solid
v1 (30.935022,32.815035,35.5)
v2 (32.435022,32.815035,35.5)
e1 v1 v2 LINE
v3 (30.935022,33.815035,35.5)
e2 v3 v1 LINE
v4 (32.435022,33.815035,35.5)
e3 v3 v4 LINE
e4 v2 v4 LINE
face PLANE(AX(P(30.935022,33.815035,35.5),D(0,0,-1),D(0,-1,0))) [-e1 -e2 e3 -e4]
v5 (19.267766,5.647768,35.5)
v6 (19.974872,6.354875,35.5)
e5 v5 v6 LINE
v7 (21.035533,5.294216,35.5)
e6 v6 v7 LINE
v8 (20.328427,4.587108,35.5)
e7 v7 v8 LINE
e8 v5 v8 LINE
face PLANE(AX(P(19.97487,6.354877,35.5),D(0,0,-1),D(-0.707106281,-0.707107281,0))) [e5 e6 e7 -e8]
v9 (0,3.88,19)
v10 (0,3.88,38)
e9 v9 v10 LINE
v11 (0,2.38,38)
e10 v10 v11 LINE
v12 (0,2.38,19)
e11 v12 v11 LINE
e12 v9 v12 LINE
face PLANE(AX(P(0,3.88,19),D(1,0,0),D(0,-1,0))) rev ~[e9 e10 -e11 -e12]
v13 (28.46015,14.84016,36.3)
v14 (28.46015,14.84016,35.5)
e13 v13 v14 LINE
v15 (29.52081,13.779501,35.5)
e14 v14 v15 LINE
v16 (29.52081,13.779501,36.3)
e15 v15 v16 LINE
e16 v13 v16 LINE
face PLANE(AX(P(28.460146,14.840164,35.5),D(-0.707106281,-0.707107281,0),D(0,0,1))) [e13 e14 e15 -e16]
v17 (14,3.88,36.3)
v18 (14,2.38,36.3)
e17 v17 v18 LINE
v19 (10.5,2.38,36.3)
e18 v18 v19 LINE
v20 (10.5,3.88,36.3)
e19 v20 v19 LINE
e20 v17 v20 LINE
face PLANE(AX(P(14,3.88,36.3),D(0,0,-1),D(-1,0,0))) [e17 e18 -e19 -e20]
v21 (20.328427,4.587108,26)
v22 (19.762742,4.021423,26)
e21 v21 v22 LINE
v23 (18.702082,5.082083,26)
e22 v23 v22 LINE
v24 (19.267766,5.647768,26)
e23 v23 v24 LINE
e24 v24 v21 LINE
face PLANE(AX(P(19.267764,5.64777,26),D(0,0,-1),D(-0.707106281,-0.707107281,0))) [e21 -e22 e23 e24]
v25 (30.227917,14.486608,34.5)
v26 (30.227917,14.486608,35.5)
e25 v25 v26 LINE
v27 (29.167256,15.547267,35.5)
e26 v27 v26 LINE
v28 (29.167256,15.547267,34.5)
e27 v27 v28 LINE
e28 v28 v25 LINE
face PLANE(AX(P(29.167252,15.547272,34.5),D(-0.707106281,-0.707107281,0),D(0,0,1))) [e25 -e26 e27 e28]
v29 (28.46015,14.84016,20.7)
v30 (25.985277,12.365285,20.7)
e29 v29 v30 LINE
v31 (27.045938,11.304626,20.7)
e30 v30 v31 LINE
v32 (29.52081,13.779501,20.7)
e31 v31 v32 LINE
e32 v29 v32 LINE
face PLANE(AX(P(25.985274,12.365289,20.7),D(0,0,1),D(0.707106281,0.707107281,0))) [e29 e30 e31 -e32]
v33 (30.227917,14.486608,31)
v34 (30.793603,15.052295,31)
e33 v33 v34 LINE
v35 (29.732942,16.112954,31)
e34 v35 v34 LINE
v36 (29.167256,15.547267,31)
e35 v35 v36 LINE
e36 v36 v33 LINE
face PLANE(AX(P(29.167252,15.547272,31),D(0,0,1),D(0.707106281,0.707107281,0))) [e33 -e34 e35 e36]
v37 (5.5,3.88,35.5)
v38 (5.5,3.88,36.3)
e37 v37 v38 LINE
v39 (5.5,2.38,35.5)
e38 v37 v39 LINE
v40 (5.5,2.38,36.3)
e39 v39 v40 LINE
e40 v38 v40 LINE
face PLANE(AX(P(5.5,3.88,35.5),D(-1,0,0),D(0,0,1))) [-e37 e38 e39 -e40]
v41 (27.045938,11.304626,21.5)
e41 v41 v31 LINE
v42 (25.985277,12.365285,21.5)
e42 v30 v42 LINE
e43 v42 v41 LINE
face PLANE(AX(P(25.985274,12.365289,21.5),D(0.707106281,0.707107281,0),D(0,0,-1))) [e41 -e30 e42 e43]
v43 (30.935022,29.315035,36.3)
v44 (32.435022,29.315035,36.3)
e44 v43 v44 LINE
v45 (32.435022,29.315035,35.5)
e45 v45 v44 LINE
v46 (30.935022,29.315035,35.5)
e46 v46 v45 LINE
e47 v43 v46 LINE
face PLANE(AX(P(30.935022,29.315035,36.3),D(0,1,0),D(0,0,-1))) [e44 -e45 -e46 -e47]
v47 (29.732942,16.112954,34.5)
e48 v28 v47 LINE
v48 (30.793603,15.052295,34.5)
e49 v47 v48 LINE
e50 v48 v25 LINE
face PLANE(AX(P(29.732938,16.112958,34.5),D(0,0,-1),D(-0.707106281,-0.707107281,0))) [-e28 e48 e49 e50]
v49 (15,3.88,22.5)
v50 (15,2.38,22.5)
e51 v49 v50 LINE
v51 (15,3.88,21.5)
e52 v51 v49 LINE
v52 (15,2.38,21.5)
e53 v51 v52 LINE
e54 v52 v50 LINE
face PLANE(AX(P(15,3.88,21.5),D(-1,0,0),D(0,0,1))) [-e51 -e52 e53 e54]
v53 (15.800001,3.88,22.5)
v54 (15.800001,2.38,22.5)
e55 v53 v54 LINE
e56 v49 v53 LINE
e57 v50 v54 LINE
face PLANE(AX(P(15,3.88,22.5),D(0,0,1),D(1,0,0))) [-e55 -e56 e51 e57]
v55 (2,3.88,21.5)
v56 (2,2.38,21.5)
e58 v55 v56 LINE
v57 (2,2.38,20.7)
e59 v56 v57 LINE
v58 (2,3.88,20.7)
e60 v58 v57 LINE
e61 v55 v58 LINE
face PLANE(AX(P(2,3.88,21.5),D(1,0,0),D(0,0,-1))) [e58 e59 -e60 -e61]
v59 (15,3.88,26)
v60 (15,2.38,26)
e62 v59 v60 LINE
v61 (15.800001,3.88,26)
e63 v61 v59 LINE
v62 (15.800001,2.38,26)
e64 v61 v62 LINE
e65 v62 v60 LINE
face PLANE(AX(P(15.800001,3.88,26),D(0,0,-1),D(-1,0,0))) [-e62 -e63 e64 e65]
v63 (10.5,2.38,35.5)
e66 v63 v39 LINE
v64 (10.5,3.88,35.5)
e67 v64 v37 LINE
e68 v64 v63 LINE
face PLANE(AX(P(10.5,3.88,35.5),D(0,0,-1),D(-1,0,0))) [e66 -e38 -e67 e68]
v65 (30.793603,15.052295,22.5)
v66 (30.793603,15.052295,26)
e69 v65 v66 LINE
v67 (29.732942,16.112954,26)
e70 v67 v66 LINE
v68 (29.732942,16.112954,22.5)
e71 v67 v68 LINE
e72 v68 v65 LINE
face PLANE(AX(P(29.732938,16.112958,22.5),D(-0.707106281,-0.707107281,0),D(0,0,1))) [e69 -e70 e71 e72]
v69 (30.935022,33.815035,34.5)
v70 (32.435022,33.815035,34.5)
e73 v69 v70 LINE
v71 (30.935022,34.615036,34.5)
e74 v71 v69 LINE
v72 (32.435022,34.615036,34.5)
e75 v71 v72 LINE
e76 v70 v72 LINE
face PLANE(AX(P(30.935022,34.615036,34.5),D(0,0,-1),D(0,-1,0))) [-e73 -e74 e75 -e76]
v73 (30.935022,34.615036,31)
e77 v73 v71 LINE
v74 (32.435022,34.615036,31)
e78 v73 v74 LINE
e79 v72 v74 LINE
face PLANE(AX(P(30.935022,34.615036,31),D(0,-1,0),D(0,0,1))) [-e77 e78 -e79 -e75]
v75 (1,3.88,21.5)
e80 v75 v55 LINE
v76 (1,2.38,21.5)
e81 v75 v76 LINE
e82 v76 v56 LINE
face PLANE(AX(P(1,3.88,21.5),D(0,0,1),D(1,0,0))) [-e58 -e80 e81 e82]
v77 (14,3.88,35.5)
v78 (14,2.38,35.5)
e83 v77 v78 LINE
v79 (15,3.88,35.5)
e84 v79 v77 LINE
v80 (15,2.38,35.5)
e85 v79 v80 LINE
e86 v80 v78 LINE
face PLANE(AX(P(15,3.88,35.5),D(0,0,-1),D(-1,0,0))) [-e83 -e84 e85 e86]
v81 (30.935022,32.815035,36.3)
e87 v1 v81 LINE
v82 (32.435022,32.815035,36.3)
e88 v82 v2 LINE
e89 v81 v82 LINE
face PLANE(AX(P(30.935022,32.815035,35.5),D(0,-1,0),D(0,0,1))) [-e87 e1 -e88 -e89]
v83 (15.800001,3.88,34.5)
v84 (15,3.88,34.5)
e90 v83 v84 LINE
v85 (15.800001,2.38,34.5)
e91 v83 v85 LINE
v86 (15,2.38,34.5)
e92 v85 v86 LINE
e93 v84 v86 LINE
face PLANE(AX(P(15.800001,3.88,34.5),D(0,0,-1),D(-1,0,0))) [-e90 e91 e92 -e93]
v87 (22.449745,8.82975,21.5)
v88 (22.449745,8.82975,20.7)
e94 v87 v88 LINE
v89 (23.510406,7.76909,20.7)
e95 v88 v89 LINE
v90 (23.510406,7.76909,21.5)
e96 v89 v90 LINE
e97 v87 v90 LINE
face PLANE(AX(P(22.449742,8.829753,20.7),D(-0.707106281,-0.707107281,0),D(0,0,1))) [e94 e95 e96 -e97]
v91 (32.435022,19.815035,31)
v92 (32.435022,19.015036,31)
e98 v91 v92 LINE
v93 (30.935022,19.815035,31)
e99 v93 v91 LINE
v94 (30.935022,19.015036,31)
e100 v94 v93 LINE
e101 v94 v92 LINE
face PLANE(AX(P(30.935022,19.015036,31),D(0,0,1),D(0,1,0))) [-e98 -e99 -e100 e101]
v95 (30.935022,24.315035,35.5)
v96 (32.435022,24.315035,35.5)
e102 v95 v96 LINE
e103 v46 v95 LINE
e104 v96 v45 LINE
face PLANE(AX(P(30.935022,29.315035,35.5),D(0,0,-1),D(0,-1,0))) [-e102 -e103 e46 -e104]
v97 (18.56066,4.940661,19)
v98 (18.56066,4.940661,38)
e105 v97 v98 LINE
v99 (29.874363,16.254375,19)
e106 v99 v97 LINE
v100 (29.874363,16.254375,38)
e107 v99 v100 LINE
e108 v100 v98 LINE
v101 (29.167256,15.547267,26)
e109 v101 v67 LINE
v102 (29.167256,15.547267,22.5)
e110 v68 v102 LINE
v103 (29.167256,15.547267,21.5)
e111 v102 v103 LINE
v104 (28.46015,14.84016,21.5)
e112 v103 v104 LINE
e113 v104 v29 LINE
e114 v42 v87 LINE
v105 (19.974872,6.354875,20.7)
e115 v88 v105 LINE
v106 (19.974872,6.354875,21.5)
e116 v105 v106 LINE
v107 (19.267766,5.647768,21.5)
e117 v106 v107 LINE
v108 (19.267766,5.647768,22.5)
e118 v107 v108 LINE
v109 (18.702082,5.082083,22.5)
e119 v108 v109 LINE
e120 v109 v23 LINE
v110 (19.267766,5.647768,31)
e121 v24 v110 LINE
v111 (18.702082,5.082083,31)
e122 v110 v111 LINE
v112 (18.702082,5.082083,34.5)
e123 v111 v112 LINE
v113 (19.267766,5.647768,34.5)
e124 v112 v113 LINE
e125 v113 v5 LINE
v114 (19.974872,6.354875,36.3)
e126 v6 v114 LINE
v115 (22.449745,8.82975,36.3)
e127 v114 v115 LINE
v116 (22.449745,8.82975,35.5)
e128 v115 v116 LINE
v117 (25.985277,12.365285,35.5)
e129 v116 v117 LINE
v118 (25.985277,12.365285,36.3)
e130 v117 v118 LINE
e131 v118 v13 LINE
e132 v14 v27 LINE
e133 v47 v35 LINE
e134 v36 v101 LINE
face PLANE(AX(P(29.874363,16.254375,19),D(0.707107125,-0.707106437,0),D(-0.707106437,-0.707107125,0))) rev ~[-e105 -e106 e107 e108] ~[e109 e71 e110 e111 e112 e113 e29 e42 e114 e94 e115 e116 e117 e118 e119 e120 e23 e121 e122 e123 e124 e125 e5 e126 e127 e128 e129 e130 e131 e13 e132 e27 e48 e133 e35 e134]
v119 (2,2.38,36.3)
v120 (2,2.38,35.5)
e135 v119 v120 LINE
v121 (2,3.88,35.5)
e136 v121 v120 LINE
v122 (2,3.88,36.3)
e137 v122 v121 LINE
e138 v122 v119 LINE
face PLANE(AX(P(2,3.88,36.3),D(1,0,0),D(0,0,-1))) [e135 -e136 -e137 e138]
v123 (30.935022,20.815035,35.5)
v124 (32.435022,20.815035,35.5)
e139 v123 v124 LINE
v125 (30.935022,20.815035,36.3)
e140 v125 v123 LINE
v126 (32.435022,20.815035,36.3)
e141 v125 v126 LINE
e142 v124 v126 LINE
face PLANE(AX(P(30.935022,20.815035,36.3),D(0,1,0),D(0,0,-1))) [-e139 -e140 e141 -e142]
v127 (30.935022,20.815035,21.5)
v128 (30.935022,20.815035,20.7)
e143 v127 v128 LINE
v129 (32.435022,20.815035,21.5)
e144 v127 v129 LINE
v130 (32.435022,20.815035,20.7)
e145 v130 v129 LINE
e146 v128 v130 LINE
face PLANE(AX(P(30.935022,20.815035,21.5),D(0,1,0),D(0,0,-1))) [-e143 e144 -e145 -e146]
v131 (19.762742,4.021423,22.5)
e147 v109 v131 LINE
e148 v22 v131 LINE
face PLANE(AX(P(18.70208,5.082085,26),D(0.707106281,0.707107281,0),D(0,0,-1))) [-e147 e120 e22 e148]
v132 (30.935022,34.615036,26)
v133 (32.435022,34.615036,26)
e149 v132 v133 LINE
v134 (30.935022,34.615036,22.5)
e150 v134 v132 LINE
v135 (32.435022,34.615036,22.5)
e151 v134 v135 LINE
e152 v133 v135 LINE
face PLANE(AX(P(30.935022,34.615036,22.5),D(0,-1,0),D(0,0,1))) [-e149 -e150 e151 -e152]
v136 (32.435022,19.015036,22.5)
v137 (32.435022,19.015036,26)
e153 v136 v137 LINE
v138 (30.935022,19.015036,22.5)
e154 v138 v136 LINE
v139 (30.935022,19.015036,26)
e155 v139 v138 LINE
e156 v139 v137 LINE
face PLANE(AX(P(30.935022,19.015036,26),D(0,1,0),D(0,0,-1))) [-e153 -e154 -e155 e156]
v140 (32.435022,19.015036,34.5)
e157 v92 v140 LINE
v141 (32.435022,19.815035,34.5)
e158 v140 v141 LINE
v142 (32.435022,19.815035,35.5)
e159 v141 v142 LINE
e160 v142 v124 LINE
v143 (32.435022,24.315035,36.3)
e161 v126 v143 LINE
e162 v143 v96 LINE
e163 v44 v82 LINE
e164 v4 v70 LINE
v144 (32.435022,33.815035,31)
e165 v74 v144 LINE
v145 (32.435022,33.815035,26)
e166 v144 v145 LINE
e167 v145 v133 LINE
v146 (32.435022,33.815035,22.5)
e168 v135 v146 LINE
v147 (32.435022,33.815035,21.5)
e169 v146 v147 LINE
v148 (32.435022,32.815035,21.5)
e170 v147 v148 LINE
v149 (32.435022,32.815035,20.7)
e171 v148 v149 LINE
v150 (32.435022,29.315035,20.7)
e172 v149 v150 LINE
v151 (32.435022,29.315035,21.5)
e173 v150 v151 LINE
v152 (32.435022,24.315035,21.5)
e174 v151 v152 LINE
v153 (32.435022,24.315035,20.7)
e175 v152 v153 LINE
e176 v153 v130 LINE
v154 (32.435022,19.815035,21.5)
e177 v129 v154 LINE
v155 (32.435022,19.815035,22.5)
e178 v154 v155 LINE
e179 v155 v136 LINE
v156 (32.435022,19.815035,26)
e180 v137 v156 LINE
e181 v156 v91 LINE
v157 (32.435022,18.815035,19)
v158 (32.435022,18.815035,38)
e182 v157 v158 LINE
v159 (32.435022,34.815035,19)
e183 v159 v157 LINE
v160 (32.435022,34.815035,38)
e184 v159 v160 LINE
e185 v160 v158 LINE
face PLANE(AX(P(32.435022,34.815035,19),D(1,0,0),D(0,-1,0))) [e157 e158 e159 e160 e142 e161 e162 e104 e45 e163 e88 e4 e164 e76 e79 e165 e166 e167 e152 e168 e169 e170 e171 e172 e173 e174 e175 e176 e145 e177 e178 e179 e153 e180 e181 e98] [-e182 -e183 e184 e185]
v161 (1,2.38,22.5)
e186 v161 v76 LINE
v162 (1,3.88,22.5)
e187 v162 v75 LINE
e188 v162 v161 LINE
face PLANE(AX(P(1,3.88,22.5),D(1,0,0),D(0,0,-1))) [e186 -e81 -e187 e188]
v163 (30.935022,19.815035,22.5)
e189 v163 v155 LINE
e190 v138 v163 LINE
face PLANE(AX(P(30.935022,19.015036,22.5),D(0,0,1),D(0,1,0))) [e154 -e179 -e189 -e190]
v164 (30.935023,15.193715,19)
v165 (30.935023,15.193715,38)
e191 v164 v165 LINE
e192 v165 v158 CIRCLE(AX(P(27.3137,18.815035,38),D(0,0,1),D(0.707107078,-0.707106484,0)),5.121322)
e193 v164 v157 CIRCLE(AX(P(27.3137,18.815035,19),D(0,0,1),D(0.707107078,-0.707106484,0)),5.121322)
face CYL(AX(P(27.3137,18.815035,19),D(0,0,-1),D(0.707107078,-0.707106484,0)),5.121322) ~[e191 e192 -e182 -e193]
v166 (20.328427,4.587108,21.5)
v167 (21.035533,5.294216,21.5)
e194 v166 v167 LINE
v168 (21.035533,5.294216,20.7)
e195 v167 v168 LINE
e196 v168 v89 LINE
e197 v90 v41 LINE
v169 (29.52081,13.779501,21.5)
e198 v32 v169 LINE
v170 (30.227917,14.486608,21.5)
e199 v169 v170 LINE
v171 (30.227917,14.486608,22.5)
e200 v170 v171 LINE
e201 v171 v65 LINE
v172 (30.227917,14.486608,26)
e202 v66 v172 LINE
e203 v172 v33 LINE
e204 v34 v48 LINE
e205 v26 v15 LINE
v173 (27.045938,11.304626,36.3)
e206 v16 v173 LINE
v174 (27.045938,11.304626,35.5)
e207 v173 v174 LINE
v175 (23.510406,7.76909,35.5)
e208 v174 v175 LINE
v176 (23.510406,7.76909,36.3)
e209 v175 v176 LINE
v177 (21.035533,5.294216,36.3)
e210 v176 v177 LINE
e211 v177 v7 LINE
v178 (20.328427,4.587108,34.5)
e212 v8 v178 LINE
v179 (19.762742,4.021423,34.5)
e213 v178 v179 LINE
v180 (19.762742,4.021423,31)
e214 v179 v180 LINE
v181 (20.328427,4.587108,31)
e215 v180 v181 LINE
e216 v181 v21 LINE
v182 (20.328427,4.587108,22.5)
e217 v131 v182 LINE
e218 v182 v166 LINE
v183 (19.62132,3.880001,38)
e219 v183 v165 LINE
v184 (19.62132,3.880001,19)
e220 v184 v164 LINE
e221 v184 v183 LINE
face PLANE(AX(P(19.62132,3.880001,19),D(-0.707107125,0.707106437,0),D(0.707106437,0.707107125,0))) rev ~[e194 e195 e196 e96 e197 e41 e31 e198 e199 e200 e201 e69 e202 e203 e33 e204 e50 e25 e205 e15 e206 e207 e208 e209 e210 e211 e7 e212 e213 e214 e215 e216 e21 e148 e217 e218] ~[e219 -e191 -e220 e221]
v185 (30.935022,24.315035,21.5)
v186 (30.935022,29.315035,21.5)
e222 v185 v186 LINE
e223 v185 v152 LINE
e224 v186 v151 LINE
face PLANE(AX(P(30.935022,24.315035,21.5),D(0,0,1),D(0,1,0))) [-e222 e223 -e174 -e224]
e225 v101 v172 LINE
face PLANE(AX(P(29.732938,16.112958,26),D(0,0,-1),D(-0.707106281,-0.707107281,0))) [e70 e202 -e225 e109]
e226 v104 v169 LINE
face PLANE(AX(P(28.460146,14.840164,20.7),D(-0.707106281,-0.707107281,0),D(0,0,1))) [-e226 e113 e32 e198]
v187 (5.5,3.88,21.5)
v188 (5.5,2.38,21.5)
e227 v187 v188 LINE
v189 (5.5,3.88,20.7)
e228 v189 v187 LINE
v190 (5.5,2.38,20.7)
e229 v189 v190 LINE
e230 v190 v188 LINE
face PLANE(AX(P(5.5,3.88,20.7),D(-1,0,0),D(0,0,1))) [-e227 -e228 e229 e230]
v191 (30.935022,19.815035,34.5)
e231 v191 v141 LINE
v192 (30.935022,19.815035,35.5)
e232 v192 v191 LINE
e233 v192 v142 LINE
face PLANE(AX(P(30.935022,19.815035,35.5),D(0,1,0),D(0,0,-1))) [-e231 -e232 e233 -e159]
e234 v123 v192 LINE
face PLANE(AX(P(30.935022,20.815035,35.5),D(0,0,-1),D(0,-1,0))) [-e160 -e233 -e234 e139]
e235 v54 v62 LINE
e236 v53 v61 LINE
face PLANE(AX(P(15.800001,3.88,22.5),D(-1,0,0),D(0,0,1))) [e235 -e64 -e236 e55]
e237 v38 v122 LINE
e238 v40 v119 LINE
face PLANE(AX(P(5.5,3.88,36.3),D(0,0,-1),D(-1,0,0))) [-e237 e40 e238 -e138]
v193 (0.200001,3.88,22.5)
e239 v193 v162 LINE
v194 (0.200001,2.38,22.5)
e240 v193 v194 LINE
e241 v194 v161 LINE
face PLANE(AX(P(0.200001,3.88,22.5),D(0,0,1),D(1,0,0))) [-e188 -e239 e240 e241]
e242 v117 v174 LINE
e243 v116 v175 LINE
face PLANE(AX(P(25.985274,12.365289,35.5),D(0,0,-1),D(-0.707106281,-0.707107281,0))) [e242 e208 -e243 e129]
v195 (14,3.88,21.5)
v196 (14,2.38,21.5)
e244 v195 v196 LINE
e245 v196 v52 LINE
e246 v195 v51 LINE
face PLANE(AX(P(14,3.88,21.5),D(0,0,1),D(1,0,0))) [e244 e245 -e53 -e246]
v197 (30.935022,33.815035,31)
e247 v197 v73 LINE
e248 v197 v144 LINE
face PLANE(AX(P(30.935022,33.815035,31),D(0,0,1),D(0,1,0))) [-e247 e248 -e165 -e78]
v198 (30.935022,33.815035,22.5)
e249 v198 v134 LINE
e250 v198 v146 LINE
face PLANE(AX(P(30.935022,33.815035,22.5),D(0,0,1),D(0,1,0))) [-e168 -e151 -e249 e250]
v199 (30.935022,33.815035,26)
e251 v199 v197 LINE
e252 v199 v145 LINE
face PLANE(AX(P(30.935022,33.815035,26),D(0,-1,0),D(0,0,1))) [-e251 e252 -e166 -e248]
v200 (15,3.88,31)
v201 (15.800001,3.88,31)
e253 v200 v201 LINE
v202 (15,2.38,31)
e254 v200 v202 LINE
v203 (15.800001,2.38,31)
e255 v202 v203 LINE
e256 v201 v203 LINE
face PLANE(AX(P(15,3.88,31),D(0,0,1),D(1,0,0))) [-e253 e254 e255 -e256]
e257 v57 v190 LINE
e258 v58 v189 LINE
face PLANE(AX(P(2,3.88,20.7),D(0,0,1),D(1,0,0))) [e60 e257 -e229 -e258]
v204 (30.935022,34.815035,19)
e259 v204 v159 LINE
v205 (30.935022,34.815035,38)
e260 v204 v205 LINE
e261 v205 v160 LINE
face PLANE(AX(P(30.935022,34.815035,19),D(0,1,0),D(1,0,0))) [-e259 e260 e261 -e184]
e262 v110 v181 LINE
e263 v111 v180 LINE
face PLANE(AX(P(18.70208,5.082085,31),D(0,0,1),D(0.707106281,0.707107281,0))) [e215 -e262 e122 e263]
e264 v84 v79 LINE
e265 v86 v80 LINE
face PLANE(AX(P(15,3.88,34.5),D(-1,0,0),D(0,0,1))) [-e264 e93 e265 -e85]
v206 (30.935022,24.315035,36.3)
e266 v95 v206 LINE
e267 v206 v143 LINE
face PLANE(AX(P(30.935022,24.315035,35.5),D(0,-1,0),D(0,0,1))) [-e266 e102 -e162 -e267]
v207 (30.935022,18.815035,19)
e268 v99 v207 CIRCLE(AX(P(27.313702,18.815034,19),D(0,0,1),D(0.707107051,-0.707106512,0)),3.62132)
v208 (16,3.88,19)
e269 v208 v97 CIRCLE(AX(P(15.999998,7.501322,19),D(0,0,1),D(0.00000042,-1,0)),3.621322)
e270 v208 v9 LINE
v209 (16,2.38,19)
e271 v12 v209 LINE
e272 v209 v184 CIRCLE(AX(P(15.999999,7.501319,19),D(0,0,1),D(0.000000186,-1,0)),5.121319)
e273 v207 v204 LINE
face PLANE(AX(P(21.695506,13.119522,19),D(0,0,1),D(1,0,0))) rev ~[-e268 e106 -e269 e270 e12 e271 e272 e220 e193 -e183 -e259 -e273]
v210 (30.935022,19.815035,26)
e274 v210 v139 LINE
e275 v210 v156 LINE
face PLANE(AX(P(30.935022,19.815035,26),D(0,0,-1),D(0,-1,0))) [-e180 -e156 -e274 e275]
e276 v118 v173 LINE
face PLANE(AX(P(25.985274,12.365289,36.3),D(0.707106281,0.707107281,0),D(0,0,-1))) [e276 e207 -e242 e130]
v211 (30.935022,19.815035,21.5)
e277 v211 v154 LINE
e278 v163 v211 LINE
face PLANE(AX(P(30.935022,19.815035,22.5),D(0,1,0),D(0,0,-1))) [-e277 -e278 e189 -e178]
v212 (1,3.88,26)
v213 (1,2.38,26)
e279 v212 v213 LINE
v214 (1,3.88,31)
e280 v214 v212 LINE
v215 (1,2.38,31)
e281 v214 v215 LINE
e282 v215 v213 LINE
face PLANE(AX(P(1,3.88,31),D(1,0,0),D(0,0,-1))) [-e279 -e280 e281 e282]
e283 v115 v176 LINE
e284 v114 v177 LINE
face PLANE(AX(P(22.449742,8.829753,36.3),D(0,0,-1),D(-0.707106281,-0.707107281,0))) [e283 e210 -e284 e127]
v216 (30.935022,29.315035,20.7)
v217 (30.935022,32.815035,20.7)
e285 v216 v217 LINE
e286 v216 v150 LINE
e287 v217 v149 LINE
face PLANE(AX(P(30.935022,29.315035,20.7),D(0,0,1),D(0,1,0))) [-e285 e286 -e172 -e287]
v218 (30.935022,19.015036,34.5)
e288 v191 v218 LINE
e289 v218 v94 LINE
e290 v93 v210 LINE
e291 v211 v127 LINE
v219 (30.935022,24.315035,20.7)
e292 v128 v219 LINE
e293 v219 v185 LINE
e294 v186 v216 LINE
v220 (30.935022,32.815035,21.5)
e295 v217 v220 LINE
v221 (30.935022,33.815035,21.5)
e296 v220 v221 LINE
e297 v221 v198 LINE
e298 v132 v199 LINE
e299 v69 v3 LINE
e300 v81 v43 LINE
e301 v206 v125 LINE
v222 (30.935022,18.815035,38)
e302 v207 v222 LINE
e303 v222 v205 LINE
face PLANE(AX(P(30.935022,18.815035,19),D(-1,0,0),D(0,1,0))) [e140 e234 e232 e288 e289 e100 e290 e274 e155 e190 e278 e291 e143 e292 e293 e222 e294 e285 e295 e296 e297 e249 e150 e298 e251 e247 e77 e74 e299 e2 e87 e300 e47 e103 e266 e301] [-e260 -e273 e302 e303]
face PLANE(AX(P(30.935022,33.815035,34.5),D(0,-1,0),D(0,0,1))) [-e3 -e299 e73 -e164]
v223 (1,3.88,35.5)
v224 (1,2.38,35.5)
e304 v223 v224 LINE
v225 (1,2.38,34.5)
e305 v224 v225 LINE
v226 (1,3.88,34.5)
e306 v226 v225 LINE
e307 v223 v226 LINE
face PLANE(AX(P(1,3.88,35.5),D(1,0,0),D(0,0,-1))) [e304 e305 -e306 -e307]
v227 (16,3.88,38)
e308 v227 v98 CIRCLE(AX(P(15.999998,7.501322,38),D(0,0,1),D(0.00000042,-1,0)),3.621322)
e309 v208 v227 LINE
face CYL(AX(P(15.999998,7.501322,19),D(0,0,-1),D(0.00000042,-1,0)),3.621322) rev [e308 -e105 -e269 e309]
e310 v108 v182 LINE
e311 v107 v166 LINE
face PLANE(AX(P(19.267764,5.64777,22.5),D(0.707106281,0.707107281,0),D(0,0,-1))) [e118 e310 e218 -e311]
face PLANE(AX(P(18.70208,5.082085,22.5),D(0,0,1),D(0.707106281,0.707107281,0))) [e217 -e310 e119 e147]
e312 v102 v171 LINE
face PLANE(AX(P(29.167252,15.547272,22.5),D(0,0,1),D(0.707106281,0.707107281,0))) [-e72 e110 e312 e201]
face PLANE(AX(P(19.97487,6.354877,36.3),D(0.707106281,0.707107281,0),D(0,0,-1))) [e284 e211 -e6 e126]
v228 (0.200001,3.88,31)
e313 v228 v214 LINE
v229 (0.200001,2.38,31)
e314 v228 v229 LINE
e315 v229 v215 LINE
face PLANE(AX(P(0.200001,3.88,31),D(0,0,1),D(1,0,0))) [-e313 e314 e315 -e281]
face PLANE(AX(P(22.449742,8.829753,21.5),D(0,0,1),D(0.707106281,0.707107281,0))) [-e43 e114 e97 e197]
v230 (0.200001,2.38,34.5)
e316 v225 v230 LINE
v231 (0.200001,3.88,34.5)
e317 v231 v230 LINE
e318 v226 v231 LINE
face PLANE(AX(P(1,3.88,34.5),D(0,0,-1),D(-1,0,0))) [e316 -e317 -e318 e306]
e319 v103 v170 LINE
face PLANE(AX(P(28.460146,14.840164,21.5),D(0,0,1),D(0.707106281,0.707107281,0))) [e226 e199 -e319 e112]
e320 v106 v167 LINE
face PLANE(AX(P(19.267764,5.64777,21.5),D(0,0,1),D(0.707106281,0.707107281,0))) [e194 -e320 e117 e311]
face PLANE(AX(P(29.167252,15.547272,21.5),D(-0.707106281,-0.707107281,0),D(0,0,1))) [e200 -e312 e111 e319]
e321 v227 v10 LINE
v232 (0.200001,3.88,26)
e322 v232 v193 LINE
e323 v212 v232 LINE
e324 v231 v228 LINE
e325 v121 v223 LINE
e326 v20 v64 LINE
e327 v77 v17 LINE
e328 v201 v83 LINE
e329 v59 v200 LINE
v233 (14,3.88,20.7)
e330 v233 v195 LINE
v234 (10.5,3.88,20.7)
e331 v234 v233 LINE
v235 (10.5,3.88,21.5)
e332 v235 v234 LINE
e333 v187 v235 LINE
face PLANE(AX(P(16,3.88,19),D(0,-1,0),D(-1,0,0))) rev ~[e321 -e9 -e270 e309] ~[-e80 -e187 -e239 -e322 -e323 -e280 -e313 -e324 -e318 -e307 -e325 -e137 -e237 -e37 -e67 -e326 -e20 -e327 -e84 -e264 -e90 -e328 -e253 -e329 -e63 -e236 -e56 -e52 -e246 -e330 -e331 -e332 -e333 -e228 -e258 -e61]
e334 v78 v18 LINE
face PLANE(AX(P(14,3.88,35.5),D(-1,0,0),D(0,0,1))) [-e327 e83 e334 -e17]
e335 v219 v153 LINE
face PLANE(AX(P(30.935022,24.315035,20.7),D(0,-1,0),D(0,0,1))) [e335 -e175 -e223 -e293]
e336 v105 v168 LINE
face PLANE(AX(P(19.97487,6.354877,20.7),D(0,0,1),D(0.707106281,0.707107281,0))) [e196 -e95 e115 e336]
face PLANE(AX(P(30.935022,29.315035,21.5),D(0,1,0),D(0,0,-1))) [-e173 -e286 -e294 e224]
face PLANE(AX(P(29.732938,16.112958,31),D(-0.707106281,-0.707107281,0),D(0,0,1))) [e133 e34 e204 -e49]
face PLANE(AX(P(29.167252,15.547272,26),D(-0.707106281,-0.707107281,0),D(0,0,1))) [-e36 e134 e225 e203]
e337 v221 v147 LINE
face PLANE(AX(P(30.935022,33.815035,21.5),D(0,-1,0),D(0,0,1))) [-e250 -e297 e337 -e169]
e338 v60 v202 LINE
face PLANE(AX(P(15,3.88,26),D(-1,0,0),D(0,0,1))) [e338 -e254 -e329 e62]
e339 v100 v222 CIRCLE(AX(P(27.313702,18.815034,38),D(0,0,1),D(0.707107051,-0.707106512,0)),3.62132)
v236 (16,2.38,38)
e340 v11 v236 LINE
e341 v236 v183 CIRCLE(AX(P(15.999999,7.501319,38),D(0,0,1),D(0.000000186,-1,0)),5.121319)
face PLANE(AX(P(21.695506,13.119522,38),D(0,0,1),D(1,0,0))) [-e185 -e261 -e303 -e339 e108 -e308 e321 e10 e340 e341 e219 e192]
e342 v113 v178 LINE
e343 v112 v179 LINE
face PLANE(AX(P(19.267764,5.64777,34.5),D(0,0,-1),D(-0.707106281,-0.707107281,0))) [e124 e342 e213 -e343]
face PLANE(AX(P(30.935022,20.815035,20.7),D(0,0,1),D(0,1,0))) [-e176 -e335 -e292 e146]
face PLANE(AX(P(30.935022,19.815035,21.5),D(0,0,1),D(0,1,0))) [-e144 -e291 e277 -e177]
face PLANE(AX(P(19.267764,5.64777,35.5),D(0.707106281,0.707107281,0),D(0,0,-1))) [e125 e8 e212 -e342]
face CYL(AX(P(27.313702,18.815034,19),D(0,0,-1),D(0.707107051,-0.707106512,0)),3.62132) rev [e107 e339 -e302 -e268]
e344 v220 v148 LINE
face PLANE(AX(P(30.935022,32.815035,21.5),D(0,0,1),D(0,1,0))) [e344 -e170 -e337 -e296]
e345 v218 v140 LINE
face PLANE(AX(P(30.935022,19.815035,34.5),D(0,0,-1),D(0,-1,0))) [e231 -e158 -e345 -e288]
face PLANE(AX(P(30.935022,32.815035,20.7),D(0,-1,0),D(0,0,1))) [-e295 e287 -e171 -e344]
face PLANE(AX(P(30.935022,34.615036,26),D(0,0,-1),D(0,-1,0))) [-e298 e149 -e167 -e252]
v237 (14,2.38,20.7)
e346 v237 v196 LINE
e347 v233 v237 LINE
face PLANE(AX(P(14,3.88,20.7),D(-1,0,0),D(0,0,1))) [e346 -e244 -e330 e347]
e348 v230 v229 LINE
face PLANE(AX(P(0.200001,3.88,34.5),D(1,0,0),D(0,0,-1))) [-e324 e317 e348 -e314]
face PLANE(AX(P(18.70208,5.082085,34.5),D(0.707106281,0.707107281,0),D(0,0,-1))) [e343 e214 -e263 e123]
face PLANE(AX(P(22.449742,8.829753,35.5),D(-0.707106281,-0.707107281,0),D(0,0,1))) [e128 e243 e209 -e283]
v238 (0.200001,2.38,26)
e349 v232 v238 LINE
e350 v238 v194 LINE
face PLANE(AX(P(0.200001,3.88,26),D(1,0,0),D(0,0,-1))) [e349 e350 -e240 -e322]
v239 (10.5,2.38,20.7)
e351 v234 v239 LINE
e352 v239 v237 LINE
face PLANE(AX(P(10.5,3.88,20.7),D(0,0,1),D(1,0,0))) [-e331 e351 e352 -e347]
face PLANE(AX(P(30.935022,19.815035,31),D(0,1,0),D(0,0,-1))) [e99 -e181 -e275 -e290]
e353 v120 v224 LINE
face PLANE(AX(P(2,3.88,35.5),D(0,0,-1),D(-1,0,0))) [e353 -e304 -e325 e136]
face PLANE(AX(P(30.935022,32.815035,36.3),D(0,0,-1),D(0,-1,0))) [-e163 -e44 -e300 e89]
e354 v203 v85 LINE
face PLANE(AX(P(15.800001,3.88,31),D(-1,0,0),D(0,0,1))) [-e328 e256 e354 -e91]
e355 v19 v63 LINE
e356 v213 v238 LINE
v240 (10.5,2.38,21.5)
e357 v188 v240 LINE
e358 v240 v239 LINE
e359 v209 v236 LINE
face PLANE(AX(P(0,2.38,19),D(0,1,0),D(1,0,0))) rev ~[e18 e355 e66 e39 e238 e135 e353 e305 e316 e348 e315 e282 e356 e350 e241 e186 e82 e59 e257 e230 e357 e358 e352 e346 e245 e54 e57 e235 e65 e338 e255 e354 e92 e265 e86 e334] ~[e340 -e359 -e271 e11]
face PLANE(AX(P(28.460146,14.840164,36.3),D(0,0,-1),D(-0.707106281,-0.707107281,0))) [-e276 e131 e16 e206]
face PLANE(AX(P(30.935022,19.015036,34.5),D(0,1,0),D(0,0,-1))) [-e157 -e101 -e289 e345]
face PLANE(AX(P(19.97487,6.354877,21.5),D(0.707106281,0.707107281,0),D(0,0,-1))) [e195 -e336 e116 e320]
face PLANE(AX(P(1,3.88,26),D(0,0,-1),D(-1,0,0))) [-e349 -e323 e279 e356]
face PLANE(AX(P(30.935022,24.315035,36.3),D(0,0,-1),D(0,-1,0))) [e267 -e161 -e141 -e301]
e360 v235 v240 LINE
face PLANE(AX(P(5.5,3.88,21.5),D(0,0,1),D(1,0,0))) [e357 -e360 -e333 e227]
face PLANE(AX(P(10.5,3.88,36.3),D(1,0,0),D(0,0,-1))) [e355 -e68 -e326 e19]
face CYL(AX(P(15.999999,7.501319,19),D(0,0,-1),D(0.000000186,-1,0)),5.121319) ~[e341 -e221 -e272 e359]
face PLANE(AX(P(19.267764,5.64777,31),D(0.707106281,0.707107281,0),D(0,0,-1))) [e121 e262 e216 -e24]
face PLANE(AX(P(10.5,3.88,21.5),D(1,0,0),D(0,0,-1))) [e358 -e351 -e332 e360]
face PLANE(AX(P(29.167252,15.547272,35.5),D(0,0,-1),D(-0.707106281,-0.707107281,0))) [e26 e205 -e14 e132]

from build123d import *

# Parameters (mm, degrees)
PAD_DEPTH       = 19
POCKET_DEPTH    = 11.62232
POCKET002_DEPTH = 1.501
POCKET003_DEPTH = 1.501


with BuildPart() as part:
    # Sketch → Pad (new body)
    with BuildSketch(Plane.XY):
        with BuildLine():
            Line((0, 0), (16, 0))
            ThreePointArc((16, 0), (17.959845, 0.389838), (19.62132, 1.500001))
            Line((19.62132, 1.500001), (30.935023, 12.813715))
            ThreePointArc((30.935023, 12.813715), (32.045185, 14.475191), (32.435022, 16.435035))
            Line((32.435022, 32.435035), (32.435022, 16.435035))
            Line((30.935022, 32.435035), (32.435022, 32.435035))
            Line((30.935022, 16.435035), (30.935022, 32.435035))
            ThreePointArc((29.874363, 13.874375), (30.659366, 15.049216), (30.935022, 16.435035))
            Line((29.874363, 13.874375), (18.56066, 2.560661))
            ThreePointArc((16, 1.5), (17.385819, 1.775657), (18.56066, 2.560661))
            Line((16, 1.5), (0, 1.5))
            Line((0, 1.5), (0, 0))
        make_face()
    extrude(amount=PAD_DEPTH)

    # Sketch004 → Pocket (cut, through all)
    with BuildSketch(Plane(origin=(8.000009, -8.000001, 0), x_dir=(-0.707106, -0.707107, 0), z_dir=(-0.707107, 0.707106, 0))):
        Polygon((-28.935023, 17.3), (-25.435023, 17.3), (-25.435023, 16.5), (-20.435023, 16.5), (-20.435023, 17.3), (-16.935023, 17.3), (-16.935023, 16.5), (-15.935023, 16.5), (-15.935023, 15.5), (-15.135024, 15.5), (-15.135024, 12), (-15.935023, 12), (-15.935023, 7), (-15.135024, 7), (-15.135024, 3.5), (-15.935023, 3.5), (-15.935023, 2.5), (-16.935023, 2.5), (-16.935023, 1.7), (-20.435023, 1.7), (-20.435023, 2.5), (-25.435023, 2.5), (-25.435023, 1.7), (-28.935023, 1.7), (-28.935023, 2.5), (-29.935023, 2.5), (-29.935023, 3.5), (-30.735024, 3.5), (-30.735024, 7), (-29.935023, 7), (-29.935023, 12), (-30.735024, 12), (-30.735024, 15.5), (-29.935023, 15.5), (-29.935023, 16.5), (-28.935023, 16.5), align=None)
    extrude(amount=-POCKET_DEPTH, mode=Mode.SUBTRACT)

    # Sketch004001 → Pocket002 (cut, through all)
    with BuildSketch(Plane(origin=(30.935022, 0, 0), x_dir=(0, -1, 0), z_dir=(-1, 0, 0))):
        Polygon((-30.435035, 17.3), (-26.935035, 17.3), (-26.935035, 16.5), (-21.935035, 16.5), (-21.935035, 17.3), (-18.435035, 17.3), (-18.435035, 16.5), (-17.435035, 16.5), (-17.435035, 15.5), (-16.635036, 15.5), (-16.635036, 12), (-17.435035, 12), (-17.435035, 7), (-16.635036, 7), (-16.635036, 3.5), (-17.435035, 3.5), (-17.435035, 2.5), (-18.435035, 2.5), (-18.435035, 1.7), (-21.935035, 1.7), (-21.935035, 2.5), (-26.935035, 2.5), (-26.935035, 1.7), (-30.435035, 1.7), (-30.435035, 2.5), (-31.435035, 2.5), (-31.435035, 3.5), (-32.235036, 3.5), (-32.235036, 7), (-31.435035, 7), (-31.435035, 12), (-32.235036, 12), (-32.235036, 15.5), (-31.435035, 15.5), (-31.435035, 16.5), (-30.435035, 16.5), align=None)
    extrude(amount=-POCKET002_DEPTH, mode=Mode.SUBTRACT)

    # Sketch004001001 → Pocket003 (cut, through all)
    with BuildSketch(Plane(origin=(0, 1.5, 0), x_dir=(-1, 0, 0), z_dir=(0, 1, 0))):
        Polygon((-14, 17.3), (-10.5, 17.3), (-10.5, 16.5), (-5.5, 16.5), (-5.5, 17.3), (-2, 17.3), (-2, 16.5), (-1, 16.5), (-1, 15.5), (-0.200001, 15.5), (-0.200001, 12), (-1, 12), (-1, 7), (-0.200001, 7), (-0.200001, 3.5), (-1, 3.5), (-1, 2.5), (-2, 2.5), (-2, 1.7), (-5.5, 1.7), (-5.5, 2.5), (-10.5, 2.5), (-10.5, 1.7), (-14, 1.7), (-14, 2.5), (-15, 2.5), (-15, 3.5), (-15.800001, 3.5), (-15.800001, 7), (-15, 7), (-15, 12), (-15.800001, 12), (-15.800001, 15.5), (-15, 15.5), (-15, 16.5), (-14, 16.5), align=None)
    extrude(amount=-POCKET003_DEPTH, mode=Mode.SUBTRACT)


with BuildPart() as part_1:
    # Clone placement: moved
    add(part.part.moved(Location((0, 2.38, 19))))


solid = part_1.part
